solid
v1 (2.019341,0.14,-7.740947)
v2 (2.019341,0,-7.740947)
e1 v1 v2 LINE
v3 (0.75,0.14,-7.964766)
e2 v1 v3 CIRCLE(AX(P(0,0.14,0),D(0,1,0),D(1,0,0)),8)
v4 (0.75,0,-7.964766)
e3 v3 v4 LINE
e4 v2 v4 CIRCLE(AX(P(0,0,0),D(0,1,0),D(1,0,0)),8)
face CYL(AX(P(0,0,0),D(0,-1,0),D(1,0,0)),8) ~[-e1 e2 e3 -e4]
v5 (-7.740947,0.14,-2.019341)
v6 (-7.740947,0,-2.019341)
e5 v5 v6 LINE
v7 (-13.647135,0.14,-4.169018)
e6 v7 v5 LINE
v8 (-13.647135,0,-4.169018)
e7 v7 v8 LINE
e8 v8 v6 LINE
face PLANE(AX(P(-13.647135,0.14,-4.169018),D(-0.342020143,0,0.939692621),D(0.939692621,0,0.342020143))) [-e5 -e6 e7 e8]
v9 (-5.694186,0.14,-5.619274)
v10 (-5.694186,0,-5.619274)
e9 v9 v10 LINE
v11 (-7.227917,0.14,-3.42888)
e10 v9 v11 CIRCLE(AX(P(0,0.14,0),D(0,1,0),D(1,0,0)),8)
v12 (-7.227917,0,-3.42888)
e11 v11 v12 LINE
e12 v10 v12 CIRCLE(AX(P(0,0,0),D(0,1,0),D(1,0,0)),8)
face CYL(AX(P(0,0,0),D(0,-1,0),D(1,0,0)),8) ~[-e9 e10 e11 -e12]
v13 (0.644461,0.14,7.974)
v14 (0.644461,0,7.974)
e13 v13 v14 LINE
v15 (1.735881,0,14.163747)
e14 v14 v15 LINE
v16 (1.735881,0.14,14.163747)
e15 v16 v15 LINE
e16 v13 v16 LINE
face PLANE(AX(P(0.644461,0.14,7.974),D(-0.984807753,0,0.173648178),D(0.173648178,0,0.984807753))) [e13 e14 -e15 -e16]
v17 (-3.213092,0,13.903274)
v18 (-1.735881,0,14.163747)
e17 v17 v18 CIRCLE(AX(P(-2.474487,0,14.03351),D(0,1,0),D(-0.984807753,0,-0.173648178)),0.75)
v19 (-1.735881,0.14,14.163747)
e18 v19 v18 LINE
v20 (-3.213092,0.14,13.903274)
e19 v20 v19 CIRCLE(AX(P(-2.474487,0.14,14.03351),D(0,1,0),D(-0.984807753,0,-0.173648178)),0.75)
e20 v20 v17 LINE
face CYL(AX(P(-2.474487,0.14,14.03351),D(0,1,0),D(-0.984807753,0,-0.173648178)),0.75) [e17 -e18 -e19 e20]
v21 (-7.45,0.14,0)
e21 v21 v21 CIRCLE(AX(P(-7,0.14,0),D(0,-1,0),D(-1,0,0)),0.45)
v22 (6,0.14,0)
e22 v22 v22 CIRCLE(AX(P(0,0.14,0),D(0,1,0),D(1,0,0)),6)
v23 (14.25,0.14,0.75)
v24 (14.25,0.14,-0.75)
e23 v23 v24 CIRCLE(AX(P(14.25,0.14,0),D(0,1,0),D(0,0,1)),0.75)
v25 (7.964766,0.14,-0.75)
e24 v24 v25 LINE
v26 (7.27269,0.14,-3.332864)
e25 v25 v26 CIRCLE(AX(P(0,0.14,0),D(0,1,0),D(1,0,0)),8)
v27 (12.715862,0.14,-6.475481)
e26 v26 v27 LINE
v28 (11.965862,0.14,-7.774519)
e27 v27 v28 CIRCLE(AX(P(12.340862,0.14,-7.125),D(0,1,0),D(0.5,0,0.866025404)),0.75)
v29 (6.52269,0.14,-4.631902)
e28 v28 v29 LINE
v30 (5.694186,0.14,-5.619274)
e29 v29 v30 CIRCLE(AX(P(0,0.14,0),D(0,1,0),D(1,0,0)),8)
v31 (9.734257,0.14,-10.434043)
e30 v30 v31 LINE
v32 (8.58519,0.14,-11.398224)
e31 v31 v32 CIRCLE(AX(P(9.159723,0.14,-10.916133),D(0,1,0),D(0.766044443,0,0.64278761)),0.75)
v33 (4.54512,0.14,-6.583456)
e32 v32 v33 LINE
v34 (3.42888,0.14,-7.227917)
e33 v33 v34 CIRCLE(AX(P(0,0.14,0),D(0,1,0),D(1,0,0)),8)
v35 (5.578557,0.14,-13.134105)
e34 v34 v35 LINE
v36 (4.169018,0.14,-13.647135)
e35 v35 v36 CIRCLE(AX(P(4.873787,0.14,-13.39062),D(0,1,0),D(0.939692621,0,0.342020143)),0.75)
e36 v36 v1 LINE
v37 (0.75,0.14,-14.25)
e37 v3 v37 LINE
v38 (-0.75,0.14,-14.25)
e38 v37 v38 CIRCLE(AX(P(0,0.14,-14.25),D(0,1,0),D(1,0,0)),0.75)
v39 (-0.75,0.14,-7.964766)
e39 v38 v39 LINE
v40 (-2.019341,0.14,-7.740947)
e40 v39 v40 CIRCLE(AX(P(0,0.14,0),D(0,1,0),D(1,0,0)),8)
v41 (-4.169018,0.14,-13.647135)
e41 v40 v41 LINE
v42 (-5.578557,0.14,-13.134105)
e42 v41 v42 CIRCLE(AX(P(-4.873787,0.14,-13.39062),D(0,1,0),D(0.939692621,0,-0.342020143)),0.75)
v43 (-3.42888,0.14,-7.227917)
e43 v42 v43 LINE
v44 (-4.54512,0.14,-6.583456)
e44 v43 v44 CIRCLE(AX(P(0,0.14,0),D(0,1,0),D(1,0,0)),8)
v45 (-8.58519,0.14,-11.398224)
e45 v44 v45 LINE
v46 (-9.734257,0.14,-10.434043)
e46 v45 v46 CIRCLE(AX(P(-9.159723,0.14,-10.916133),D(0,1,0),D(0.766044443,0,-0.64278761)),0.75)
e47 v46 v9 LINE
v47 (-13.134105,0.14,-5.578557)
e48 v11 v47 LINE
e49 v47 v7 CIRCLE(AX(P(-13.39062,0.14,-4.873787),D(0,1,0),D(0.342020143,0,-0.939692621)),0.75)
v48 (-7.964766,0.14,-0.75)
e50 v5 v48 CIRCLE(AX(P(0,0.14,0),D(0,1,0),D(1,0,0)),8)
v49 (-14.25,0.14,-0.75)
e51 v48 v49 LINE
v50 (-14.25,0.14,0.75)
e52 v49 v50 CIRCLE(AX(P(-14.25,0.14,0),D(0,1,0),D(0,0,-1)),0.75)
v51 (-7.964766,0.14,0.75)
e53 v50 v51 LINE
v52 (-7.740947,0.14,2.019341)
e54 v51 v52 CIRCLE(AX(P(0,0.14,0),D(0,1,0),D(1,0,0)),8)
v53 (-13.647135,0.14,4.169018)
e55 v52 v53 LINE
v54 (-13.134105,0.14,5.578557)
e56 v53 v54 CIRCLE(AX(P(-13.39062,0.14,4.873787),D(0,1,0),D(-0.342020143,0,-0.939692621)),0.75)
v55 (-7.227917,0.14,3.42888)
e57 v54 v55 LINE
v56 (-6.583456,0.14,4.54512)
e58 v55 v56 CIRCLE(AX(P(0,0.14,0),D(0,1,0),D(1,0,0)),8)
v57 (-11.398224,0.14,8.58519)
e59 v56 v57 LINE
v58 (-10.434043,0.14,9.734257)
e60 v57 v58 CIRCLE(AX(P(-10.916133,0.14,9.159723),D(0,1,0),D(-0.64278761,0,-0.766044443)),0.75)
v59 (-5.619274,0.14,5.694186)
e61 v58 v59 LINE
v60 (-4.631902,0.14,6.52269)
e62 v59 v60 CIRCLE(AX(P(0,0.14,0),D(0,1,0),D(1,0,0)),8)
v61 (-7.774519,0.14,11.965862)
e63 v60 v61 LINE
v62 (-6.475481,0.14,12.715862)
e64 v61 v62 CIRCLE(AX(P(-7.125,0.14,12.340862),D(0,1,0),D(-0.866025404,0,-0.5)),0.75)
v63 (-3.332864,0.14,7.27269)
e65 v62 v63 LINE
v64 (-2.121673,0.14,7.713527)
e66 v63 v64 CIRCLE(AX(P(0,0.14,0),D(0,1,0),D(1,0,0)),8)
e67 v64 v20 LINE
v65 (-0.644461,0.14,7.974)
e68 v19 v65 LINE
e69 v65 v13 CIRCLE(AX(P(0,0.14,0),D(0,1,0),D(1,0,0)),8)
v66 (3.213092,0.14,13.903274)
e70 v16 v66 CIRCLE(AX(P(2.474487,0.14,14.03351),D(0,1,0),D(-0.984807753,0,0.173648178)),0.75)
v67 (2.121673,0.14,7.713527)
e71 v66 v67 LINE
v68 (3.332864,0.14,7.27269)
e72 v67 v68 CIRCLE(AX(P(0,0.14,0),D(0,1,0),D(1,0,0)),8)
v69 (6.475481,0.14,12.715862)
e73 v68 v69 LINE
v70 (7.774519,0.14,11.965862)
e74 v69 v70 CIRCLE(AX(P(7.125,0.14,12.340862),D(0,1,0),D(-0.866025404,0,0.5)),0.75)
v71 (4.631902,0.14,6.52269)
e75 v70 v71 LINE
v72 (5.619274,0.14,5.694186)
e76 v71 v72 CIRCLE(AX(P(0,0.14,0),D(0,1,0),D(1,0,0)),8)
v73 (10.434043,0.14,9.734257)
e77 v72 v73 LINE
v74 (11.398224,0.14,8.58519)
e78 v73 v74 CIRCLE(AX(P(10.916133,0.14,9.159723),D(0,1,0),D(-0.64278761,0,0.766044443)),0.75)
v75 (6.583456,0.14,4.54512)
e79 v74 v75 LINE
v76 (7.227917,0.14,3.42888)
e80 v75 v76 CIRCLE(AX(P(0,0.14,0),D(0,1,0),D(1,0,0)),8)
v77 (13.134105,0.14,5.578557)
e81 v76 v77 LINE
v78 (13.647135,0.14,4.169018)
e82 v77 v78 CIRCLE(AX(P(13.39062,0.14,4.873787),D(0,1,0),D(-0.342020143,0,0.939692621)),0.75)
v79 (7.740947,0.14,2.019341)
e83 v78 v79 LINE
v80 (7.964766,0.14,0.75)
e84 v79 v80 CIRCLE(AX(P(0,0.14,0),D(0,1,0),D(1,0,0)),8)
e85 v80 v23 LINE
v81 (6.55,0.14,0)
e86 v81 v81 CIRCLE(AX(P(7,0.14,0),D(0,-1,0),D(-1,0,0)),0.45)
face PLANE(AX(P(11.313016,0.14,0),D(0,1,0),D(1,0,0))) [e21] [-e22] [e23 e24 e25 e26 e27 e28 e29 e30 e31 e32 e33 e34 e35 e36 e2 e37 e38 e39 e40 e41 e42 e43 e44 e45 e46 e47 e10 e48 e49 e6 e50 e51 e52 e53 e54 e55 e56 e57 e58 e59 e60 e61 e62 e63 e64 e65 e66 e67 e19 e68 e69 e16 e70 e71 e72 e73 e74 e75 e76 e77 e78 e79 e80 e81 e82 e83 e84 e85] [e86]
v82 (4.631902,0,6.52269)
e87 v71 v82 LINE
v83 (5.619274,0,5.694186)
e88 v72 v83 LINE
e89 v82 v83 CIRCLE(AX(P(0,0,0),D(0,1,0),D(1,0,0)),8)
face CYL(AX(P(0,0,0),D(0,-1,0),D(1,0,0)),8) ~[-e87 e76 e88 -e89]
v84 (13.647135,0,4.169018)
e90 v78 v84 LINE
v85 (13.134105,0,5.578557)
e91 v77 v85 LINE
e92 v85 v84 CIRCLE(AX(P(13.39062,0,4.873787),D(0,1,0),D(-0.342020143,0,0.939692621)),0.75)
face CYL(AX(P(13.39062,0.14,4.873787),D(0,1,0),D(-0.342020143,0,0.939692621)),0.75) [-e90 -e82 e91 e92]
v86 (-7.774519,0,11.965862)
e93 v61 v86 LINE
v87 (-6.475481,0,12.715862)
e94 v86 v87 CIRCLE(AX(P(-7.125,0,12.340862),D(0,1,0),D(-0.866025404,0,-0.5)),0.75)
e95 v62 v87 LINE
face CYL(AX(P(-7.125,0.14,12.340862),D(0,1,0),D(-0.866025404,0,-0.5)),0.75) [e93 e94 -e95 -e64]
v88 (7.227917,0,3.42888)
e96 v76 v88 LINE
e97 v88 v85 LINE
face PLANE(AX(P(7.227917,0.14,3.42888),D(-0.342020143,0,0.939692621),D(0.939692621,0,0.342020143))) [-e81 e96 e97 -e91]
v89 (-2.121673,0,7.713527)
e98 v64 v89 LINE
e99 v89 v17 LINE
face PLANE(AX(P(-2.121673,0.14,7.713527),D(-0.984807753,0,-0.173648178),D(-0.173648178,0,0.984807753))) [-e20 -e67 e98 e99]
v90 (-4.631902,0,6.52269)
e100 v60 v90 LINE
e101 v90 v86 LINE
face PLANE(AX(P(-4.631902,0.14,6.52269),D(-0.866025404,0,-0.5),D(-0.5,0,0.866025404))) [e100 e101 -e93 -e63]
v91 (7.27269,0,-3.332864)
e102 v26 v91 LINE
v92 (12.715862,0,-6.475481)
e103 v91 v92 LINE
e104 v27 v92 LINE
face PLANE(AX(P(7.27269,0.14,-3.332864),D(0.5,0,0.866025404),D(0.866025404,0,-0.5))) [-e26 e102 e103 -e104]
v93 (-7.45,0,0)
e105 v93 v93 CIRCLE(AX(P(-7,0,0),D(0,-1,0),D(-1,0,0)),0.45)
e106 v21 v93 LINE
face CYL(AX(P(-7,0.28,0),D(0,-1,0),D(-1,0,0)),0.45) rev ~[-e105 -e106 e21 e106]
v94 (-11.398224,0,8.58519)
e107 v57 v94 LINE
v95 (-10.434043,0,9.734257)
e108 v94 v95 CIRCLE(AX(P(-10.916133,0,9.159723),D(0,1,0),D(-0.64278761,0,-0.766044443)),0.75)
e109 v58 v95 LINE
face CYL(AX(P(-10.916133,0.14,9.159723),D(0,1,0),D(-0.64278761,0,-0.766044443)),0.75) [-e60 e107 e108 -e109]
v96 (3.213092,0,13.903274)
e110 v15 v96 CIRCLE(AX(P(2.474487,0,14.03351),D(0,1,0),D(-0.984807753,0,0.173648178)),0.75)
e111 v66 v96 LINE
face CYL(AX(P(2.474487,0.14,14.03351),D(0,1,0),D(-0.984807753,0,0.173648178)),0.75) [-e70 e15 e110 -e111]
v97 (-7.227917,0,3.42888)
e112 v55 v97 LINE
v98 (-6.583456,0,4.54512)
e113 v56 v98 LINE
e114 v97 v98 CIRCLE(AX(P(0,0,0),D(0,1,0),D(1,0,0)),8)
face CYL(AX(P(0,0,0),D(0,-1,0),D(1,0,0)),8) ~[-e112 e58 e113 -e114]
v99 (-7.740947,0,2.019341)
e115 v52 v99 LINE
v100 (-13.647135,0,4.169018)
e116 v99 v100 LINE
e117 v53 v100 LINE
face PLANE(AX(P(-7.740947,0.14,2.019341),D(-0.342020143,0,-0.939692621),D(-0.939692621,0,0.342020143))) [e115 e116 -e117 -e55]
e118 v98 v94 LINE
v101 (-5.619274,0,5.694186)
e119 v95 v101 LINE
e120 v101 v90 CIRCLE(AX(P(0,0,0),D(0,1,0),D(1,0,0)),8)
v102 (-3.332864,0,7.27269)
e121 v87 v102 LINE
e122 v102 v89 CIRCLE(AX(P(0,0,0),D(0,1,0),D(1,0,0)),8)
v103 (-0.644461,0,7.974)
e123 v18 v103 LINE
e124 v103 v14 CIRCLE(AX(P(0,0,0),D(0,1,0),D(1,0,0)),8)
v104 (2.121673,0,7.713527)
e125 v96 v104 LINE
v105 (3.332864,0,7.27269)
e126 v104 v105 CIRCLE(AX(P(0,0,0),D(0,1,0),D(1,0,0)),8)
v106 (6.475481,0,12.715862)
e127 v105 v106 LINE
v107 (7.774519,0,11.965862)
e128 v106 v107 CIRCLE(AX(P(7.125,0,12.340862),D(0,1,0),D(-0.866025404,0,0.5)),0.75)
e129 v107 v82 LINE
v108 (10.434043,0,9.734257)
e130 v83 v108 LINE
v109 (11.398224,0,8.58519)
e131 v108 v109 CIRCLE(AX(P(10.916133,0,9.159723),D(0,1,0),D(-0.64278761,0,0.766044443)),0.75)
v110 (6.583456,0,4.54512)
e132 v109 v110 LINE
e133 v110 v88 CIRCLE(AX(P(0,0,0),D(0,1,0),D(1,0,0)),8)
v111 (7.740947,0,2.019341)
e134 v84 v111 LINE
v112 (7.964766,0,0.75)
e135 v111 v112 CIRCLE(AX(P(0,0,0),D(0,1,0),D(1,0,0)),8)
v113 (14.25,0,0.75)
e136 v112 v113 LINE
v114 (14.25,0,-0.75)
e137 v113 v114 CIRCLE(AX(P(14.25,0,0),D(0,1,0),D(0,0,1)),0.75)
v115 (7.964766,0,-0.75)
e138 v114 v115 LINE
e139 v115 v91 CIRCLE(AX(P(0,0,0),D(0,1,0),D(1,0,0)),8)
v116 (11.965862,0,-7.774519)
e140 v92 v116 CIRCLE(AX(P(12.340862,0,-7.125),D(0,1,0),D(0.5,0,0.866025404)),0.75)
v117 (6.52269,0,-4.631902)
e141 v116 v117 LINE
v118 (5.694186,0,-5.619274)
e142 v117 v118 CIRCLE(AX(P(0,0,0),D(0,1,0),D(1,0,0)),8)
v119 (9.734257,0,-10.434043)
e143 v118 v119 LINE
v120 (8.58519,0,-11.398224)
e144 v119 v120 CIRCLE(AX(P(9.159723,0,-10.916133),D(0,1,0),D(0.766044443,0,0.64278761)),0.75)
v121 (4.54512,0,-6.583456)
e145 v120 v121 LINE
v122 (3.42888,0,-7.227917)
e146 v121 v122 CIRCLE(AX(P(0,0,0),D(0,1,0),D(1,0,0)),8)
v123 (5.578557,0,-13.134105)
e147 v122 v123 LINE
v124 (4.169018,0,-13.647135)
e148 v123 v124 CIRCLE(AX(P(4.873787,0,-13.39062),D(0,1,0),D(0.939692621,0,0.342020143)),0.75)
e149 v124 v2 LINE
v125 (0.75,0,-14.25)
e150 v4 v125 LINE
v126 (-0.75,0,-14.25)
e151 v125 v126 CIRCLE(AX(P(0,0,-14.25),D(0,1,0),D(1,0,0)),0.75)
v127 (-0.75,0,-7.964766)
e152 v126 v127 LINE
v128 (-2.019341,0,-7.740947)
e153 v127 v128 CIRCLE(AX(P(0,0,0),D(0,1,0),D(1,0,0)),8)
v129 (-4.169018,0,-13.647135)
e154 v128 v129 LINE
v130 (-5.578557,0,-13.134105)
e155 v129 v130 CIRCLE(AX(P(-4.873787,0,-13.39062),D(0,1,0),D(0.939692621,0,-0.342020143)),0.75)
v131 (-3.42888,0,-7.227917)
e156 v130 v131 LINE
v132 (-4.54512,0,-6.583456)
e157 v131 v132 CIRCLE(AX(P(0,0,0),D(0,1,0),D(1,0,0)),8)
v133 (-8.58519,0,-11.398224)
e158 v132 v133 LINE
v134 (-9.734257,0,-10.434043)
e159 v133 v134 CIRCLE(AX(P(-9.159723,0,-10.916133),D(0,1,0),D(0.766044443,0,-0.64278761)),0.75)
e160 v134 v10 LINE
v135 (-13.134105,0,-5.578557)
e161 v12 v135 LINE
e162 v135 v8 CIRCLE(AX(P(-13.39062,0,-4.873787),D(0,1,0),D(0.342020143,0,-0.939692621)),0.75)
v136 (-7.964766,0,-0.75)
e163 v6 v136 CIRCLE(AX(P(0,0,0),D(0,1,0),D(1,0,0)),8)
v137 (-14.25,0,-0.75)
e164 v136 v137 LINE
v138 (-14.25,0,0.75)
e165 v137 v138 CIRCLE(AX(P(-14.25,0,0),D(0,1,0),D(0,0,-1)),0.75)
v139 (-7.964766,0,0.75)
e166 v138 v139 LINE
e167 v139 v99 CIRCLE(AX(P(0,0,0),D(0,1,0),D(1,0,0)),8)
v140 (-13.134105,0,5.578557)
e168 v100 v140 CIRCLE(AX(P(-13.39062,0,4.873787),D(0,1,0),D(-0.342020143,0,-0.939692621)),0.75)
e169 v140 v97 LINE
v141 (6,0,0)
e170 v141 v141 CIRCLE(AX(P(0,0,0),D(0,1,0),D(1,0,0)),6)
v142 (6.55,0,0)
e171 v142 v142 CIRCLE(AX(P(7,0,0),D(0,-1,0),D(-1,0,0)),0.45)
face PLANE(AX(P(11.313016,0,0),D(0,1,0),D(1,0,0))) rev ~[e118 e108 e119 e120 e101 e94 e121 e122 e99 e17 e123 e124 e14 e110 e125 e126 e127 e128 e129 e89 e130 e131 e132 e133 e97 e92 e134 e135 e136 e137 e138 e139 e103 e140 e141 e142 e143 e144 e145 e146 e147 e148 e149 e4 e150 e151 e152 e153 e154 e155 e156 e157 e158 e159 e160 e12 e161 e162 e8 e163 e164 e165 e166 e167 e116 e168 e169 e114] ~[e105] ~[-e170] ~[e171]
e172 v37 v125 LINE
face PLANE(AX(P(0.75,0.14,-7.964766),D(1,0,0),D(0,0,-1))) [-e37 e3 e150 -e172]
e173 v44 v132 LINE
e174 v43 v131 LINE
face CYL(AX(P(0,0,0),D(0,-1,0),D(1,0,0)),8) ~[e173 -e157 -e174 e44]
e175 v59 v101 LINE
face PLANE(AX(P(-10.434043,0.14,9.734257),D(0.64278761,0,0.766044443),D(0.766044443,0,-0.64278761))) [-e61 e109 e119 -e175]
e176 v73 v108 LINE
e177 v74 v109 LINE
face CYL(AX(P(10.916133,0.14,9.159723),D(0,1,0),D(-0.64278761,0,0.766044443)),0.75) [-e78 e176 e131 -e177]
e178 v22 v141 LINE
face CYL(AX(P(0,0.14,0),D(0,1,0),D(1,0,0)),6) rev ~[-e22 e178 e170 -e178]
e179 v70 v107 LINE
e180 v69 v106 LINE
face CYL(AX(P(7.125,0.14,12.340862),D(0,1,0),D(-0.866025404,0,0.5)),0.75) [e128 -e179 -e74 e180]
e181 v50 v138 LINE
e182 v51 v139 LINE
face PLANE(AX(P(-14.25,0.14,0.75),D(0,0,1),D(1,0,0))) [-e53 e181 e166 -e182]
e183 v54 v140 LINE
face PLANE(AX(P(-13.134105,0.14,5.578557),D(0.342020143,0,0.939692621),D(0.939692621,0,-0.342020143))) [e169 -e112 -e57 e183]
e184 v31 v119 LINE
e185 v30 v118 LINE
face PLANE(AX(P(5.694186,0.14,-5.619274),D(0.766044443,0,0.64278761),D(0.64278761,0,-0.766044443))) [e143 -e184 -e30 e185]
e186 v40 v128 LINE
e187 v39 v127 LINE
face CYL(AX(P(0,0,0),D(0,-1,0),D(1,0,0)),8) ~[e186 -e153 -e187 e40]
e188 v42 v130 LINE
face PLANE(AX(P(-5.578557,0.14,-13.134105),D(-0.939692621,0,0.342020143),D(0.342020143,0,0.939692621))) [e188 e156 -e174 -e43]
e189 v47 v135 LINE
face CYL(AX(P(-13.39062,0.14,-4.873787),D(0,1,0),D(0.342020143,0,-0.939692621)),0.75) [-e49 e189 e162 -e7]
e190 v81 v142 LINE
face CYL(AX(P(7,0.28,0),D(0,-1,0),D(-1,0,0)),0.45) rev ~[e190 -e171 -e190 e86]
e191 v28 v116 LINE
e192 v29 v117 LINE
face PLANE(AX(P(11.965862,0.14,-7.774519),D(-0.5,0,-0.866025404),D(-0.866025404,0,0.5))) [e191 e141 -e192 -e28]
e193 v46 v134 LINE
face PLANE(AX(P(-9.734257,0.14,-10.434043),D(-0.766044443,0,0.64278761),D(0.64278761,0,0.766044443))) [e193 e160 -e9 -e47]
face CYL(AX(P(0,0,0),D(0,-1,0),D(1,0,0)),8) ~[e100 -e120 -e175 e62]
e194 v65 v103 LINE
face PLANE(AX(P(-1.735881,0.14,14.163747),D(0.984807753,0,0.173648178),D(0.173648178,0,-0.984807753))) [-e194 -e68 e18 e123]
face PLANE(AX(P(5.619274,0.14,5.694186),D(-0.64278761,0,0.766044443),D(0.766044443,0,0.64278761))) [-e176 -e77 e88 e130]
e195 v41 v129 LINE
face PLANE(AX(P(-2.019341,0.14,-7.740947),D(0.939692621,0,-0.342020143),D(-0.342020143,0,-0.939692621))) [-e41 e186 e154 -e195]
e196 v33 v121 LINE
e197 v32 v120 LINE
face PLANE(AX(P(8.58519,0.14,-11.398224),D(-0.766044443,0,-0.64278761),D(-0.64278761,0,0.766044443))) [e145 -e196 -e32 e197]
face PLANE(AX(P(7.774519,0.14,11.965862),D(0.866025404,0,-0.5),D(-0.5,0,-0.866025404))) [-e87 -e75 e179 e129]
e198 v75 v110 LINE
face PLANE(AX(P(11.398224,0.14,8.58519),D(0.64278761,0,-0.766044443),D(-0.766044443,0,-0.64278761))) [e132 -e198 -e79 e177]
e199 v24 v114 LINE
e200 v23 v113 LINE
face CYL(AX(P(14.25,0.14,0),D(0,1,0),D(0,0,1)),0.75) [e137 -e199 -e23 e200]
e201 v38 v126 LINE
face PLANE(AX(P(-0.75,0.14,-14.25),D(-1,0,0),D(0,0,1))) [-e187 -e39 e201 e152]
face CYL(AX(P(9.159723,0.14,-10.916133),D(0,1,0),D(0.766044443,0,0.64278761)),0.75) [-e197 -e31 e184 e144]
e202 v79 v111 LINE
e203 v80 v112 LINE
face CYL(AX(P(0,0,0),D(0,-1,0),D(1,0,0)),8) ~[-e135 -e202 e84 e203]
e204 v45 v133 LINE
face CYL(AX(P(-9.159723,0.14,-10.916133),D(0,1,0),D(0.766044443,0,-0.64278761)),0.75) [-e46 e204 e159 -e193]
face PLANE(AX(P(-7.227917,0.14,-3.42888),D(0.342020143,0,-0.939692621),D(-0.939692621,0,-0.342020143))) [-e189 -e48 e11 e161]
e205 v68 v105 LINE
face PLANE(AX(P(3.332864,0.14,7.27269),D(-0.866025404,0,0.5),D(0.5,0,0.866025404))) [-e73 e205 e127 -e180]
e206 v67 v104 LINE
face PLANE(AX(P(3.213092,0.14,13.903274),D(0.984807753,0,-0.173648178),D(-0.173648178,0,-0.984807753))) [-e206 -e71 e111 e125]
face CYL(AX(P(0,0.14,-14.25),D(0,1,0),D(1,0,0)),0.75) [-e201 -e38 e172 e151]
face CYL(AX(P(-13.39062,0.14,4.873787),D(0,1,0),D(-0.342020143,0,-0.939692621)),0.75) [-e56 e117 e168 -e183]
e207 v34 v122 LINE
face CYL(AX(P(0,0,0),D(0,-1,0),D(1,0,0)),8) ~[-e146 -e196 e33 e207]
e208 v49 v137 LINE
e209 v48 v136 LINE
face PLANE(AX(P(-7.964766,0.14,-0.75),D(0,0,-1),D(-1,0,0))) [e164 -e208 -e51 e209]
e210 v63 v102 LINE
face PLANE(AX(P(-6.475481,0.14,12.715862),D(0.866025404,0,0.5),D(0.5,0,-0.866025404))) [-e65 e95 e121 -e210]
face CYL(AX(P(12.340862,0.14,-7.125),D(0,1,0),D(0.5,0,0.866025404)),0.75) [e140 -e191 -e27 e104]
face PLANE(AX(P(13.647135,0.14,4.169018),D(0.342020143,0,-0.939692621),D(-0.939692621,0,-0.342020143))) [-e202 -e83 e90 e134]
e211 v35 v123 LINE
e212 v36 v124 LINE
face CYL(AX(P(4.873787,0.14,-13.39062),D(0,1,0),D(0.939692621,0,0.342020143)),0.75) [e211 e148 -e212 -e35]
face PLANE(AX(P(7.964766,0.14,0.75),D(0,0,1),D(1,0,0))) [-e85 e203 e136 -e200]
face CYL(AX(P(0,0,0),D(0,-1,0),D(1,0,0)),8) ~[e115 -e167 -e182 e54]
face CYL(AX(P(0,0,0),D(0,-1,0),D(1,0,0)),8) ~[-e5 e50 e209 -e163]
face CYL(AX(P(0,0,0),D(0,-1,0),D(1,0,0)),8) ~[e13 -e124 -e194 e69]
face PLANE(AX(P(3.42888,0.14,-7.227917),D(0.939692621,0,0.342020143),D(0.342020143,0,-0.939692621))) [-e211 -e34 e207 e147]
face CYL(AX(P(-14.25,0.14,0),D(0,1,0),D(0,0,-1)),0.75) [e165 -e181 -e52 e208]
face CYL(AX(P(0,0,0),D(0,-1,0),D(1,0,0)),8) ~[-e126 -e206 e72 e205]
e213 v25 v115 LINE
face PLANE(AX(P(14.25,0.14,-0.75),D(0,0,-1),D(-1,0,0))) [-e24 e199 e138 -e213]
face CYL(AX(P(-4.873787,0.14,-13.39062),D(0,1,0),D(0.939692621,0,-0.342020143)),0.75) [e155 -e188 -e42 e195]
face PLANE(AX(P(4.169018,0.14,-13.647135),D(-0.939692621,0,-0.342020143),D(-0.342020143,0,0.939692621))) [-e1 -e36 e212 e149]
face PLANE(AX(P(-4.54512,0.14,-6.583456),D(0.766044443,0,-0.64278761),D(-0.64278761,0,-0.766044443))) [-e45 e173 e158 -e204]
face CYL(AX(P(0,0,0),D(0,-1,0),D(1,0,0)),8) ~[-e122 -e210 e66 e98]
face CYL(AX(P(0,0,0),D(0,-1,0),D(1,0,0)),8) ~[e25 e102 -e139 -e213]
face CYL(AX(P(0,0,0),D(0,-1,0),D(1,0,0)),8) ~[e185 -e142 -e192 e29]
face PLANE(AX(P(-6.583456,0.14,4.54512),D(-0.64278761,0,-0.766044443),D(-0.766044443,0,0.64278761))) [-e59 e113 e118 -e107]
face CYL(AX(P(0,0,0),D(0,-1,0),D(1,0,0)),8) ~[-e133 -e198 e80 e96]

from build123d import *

# Parameters (mm, degrees)
SKETCH1_R                      = 8
BOSS_EXTRUDE2_DEPTH            = 0.14
BOSS_EXTRUDE3_DEPTH            = 0.14
CIRPATTERN3_COUNT              = 11
CIRPATTERN3_ANGLE              = 200
BOSS_EXTRUDE4_DEPTH            = 0.14
CIRPATTERN4_COUNT              = 6
CIRPATTERN4_ANGLE              = 100
CUT_EXTRUDE3_REACH             = 2.14
SKETCH2_R                      = 6
F_0_9_0_9_DIAMETER_HOLE1_D     = 0.9
F_0_9_0_9_DIAMETER_HOLE1_DEPTH = 0.14


with BuildPart() as part:
    # Sketch1 → Boss-Extrude2 (new body)
    with BuildSketch(Plane(origin=(0, 0, 0), x_dir=(1, 0, 0), z_dir=(0, 1, 0))):
        Circle(SKETCH1_R)
    extrude(amount=BOSS_EXTRUDE2_DEPTH)

    # Sketch3 → Boss-Extrude3 (add)
    with BuildSketch(Plane(origin=(0, 0.14, 0), x_dir=(1, 0, 0), z_dir=(0, 1, 0))):
        with BuildLine():
            Line((7.964766161, -0.75), (14.25, -0.75))
            ThreePointArc((14.25, -0.75), (15, 0), (14.25, 0.75))
            Line((14.25, 0.75), (7.964766161, 0.75))
            ThreePointArc((7.964766161, 0.75), (8, 0), (7.964766161, -0.75))
        make_face()
    boss_extrude3 = extrude(amount=-BOSS_EXTRUDE3_DEPTH)

    # CirPattern3: Boss-Extrude3 ×11 about axis
    cirpattern3_axis = Axis((0, 0, 0), (0, -1, 0))
    for i in range(1, CIRPATTERN3_COUNT):
        add(boss_extrude3.rotate(cirpattern3_axis, i * CIRPATTERN3_ANGLE / (CIRPATTERN3_COUNT - 1)))

    # Sketch5 → Boss-Extrude4 (add)
    with BuildSketch(Plane(origin=(0, 0.14, 0), x_dir=(1, 0, 0), z_dir=(0, 1, 0))):
        with BuildLine():
            Line((7.272689831, 3.332864028), (12.715862004, 6.475480947))
            ThreePointArc((12.715862004, 6.475480947), (12.990381057, 7.5), (11.965862004, 7.774519053))
            Line((11.965862004, 7.774519053), (6.522689831, 4.631902133))
            ThreePointArc((6.522689831, 4.631902133), (6.92820323, 4), (7.272689831, 3.332864028))
        make_face()
    boss_extrude4 = extrude(amount=-BOSS_EXTRUDE4_DEPTH)

    # CirPattern4: Boss-Extrude4 ×6 about axis
    cirpattern4_axis = Axis((0, 0, 0), (0, 1, 0))
    for i in range(1, CIRPATTERN4_COUNT):
        add(boss_extrude4.rotate(cirpattern4_axis, i * CIRPATTERN4_ANGLE / (CIRPATTERN4_COUNT - 1)))

    # Sketch2 → Cut-Extrude3 (cut, up to next)
    with BuildSketch(Plane(origin=(0, 0.14, 0), x_dir=(1, 0, 0), z_dir=(0, 1, 0)), mode=Mode.PRIVATE) as cut_extrude3_sk1:
        Circle(SKETCH2_R)
    cut_extrude3_tool1 = extrude(cut_extrude3_sk1.sketch, amount=-CUT_EXTRUDE3_REACH, mode=Mode.PRIVATE) & part.part
    add(cut_extrude3_tool1.solids().sort_by_distance((0, 0.14, 0))[0], mode=Mode.SUBTRACT)

    # Ø0.9 (0.9) Diameter Hole1
    with Locations(Plane(origin=(0, 0.14, 0), x_dir=(1, 0, 0), z_dir=(0, 1, 0))):
        with Locations((-7, 0), (7, 0)):
            Hole(F_0_9_0_9_DIAMETER_HOLE1_D / 2, depth=F_0_9_0_9_DIAMETER_HOLE1_DEPTH)


solid = part.part
